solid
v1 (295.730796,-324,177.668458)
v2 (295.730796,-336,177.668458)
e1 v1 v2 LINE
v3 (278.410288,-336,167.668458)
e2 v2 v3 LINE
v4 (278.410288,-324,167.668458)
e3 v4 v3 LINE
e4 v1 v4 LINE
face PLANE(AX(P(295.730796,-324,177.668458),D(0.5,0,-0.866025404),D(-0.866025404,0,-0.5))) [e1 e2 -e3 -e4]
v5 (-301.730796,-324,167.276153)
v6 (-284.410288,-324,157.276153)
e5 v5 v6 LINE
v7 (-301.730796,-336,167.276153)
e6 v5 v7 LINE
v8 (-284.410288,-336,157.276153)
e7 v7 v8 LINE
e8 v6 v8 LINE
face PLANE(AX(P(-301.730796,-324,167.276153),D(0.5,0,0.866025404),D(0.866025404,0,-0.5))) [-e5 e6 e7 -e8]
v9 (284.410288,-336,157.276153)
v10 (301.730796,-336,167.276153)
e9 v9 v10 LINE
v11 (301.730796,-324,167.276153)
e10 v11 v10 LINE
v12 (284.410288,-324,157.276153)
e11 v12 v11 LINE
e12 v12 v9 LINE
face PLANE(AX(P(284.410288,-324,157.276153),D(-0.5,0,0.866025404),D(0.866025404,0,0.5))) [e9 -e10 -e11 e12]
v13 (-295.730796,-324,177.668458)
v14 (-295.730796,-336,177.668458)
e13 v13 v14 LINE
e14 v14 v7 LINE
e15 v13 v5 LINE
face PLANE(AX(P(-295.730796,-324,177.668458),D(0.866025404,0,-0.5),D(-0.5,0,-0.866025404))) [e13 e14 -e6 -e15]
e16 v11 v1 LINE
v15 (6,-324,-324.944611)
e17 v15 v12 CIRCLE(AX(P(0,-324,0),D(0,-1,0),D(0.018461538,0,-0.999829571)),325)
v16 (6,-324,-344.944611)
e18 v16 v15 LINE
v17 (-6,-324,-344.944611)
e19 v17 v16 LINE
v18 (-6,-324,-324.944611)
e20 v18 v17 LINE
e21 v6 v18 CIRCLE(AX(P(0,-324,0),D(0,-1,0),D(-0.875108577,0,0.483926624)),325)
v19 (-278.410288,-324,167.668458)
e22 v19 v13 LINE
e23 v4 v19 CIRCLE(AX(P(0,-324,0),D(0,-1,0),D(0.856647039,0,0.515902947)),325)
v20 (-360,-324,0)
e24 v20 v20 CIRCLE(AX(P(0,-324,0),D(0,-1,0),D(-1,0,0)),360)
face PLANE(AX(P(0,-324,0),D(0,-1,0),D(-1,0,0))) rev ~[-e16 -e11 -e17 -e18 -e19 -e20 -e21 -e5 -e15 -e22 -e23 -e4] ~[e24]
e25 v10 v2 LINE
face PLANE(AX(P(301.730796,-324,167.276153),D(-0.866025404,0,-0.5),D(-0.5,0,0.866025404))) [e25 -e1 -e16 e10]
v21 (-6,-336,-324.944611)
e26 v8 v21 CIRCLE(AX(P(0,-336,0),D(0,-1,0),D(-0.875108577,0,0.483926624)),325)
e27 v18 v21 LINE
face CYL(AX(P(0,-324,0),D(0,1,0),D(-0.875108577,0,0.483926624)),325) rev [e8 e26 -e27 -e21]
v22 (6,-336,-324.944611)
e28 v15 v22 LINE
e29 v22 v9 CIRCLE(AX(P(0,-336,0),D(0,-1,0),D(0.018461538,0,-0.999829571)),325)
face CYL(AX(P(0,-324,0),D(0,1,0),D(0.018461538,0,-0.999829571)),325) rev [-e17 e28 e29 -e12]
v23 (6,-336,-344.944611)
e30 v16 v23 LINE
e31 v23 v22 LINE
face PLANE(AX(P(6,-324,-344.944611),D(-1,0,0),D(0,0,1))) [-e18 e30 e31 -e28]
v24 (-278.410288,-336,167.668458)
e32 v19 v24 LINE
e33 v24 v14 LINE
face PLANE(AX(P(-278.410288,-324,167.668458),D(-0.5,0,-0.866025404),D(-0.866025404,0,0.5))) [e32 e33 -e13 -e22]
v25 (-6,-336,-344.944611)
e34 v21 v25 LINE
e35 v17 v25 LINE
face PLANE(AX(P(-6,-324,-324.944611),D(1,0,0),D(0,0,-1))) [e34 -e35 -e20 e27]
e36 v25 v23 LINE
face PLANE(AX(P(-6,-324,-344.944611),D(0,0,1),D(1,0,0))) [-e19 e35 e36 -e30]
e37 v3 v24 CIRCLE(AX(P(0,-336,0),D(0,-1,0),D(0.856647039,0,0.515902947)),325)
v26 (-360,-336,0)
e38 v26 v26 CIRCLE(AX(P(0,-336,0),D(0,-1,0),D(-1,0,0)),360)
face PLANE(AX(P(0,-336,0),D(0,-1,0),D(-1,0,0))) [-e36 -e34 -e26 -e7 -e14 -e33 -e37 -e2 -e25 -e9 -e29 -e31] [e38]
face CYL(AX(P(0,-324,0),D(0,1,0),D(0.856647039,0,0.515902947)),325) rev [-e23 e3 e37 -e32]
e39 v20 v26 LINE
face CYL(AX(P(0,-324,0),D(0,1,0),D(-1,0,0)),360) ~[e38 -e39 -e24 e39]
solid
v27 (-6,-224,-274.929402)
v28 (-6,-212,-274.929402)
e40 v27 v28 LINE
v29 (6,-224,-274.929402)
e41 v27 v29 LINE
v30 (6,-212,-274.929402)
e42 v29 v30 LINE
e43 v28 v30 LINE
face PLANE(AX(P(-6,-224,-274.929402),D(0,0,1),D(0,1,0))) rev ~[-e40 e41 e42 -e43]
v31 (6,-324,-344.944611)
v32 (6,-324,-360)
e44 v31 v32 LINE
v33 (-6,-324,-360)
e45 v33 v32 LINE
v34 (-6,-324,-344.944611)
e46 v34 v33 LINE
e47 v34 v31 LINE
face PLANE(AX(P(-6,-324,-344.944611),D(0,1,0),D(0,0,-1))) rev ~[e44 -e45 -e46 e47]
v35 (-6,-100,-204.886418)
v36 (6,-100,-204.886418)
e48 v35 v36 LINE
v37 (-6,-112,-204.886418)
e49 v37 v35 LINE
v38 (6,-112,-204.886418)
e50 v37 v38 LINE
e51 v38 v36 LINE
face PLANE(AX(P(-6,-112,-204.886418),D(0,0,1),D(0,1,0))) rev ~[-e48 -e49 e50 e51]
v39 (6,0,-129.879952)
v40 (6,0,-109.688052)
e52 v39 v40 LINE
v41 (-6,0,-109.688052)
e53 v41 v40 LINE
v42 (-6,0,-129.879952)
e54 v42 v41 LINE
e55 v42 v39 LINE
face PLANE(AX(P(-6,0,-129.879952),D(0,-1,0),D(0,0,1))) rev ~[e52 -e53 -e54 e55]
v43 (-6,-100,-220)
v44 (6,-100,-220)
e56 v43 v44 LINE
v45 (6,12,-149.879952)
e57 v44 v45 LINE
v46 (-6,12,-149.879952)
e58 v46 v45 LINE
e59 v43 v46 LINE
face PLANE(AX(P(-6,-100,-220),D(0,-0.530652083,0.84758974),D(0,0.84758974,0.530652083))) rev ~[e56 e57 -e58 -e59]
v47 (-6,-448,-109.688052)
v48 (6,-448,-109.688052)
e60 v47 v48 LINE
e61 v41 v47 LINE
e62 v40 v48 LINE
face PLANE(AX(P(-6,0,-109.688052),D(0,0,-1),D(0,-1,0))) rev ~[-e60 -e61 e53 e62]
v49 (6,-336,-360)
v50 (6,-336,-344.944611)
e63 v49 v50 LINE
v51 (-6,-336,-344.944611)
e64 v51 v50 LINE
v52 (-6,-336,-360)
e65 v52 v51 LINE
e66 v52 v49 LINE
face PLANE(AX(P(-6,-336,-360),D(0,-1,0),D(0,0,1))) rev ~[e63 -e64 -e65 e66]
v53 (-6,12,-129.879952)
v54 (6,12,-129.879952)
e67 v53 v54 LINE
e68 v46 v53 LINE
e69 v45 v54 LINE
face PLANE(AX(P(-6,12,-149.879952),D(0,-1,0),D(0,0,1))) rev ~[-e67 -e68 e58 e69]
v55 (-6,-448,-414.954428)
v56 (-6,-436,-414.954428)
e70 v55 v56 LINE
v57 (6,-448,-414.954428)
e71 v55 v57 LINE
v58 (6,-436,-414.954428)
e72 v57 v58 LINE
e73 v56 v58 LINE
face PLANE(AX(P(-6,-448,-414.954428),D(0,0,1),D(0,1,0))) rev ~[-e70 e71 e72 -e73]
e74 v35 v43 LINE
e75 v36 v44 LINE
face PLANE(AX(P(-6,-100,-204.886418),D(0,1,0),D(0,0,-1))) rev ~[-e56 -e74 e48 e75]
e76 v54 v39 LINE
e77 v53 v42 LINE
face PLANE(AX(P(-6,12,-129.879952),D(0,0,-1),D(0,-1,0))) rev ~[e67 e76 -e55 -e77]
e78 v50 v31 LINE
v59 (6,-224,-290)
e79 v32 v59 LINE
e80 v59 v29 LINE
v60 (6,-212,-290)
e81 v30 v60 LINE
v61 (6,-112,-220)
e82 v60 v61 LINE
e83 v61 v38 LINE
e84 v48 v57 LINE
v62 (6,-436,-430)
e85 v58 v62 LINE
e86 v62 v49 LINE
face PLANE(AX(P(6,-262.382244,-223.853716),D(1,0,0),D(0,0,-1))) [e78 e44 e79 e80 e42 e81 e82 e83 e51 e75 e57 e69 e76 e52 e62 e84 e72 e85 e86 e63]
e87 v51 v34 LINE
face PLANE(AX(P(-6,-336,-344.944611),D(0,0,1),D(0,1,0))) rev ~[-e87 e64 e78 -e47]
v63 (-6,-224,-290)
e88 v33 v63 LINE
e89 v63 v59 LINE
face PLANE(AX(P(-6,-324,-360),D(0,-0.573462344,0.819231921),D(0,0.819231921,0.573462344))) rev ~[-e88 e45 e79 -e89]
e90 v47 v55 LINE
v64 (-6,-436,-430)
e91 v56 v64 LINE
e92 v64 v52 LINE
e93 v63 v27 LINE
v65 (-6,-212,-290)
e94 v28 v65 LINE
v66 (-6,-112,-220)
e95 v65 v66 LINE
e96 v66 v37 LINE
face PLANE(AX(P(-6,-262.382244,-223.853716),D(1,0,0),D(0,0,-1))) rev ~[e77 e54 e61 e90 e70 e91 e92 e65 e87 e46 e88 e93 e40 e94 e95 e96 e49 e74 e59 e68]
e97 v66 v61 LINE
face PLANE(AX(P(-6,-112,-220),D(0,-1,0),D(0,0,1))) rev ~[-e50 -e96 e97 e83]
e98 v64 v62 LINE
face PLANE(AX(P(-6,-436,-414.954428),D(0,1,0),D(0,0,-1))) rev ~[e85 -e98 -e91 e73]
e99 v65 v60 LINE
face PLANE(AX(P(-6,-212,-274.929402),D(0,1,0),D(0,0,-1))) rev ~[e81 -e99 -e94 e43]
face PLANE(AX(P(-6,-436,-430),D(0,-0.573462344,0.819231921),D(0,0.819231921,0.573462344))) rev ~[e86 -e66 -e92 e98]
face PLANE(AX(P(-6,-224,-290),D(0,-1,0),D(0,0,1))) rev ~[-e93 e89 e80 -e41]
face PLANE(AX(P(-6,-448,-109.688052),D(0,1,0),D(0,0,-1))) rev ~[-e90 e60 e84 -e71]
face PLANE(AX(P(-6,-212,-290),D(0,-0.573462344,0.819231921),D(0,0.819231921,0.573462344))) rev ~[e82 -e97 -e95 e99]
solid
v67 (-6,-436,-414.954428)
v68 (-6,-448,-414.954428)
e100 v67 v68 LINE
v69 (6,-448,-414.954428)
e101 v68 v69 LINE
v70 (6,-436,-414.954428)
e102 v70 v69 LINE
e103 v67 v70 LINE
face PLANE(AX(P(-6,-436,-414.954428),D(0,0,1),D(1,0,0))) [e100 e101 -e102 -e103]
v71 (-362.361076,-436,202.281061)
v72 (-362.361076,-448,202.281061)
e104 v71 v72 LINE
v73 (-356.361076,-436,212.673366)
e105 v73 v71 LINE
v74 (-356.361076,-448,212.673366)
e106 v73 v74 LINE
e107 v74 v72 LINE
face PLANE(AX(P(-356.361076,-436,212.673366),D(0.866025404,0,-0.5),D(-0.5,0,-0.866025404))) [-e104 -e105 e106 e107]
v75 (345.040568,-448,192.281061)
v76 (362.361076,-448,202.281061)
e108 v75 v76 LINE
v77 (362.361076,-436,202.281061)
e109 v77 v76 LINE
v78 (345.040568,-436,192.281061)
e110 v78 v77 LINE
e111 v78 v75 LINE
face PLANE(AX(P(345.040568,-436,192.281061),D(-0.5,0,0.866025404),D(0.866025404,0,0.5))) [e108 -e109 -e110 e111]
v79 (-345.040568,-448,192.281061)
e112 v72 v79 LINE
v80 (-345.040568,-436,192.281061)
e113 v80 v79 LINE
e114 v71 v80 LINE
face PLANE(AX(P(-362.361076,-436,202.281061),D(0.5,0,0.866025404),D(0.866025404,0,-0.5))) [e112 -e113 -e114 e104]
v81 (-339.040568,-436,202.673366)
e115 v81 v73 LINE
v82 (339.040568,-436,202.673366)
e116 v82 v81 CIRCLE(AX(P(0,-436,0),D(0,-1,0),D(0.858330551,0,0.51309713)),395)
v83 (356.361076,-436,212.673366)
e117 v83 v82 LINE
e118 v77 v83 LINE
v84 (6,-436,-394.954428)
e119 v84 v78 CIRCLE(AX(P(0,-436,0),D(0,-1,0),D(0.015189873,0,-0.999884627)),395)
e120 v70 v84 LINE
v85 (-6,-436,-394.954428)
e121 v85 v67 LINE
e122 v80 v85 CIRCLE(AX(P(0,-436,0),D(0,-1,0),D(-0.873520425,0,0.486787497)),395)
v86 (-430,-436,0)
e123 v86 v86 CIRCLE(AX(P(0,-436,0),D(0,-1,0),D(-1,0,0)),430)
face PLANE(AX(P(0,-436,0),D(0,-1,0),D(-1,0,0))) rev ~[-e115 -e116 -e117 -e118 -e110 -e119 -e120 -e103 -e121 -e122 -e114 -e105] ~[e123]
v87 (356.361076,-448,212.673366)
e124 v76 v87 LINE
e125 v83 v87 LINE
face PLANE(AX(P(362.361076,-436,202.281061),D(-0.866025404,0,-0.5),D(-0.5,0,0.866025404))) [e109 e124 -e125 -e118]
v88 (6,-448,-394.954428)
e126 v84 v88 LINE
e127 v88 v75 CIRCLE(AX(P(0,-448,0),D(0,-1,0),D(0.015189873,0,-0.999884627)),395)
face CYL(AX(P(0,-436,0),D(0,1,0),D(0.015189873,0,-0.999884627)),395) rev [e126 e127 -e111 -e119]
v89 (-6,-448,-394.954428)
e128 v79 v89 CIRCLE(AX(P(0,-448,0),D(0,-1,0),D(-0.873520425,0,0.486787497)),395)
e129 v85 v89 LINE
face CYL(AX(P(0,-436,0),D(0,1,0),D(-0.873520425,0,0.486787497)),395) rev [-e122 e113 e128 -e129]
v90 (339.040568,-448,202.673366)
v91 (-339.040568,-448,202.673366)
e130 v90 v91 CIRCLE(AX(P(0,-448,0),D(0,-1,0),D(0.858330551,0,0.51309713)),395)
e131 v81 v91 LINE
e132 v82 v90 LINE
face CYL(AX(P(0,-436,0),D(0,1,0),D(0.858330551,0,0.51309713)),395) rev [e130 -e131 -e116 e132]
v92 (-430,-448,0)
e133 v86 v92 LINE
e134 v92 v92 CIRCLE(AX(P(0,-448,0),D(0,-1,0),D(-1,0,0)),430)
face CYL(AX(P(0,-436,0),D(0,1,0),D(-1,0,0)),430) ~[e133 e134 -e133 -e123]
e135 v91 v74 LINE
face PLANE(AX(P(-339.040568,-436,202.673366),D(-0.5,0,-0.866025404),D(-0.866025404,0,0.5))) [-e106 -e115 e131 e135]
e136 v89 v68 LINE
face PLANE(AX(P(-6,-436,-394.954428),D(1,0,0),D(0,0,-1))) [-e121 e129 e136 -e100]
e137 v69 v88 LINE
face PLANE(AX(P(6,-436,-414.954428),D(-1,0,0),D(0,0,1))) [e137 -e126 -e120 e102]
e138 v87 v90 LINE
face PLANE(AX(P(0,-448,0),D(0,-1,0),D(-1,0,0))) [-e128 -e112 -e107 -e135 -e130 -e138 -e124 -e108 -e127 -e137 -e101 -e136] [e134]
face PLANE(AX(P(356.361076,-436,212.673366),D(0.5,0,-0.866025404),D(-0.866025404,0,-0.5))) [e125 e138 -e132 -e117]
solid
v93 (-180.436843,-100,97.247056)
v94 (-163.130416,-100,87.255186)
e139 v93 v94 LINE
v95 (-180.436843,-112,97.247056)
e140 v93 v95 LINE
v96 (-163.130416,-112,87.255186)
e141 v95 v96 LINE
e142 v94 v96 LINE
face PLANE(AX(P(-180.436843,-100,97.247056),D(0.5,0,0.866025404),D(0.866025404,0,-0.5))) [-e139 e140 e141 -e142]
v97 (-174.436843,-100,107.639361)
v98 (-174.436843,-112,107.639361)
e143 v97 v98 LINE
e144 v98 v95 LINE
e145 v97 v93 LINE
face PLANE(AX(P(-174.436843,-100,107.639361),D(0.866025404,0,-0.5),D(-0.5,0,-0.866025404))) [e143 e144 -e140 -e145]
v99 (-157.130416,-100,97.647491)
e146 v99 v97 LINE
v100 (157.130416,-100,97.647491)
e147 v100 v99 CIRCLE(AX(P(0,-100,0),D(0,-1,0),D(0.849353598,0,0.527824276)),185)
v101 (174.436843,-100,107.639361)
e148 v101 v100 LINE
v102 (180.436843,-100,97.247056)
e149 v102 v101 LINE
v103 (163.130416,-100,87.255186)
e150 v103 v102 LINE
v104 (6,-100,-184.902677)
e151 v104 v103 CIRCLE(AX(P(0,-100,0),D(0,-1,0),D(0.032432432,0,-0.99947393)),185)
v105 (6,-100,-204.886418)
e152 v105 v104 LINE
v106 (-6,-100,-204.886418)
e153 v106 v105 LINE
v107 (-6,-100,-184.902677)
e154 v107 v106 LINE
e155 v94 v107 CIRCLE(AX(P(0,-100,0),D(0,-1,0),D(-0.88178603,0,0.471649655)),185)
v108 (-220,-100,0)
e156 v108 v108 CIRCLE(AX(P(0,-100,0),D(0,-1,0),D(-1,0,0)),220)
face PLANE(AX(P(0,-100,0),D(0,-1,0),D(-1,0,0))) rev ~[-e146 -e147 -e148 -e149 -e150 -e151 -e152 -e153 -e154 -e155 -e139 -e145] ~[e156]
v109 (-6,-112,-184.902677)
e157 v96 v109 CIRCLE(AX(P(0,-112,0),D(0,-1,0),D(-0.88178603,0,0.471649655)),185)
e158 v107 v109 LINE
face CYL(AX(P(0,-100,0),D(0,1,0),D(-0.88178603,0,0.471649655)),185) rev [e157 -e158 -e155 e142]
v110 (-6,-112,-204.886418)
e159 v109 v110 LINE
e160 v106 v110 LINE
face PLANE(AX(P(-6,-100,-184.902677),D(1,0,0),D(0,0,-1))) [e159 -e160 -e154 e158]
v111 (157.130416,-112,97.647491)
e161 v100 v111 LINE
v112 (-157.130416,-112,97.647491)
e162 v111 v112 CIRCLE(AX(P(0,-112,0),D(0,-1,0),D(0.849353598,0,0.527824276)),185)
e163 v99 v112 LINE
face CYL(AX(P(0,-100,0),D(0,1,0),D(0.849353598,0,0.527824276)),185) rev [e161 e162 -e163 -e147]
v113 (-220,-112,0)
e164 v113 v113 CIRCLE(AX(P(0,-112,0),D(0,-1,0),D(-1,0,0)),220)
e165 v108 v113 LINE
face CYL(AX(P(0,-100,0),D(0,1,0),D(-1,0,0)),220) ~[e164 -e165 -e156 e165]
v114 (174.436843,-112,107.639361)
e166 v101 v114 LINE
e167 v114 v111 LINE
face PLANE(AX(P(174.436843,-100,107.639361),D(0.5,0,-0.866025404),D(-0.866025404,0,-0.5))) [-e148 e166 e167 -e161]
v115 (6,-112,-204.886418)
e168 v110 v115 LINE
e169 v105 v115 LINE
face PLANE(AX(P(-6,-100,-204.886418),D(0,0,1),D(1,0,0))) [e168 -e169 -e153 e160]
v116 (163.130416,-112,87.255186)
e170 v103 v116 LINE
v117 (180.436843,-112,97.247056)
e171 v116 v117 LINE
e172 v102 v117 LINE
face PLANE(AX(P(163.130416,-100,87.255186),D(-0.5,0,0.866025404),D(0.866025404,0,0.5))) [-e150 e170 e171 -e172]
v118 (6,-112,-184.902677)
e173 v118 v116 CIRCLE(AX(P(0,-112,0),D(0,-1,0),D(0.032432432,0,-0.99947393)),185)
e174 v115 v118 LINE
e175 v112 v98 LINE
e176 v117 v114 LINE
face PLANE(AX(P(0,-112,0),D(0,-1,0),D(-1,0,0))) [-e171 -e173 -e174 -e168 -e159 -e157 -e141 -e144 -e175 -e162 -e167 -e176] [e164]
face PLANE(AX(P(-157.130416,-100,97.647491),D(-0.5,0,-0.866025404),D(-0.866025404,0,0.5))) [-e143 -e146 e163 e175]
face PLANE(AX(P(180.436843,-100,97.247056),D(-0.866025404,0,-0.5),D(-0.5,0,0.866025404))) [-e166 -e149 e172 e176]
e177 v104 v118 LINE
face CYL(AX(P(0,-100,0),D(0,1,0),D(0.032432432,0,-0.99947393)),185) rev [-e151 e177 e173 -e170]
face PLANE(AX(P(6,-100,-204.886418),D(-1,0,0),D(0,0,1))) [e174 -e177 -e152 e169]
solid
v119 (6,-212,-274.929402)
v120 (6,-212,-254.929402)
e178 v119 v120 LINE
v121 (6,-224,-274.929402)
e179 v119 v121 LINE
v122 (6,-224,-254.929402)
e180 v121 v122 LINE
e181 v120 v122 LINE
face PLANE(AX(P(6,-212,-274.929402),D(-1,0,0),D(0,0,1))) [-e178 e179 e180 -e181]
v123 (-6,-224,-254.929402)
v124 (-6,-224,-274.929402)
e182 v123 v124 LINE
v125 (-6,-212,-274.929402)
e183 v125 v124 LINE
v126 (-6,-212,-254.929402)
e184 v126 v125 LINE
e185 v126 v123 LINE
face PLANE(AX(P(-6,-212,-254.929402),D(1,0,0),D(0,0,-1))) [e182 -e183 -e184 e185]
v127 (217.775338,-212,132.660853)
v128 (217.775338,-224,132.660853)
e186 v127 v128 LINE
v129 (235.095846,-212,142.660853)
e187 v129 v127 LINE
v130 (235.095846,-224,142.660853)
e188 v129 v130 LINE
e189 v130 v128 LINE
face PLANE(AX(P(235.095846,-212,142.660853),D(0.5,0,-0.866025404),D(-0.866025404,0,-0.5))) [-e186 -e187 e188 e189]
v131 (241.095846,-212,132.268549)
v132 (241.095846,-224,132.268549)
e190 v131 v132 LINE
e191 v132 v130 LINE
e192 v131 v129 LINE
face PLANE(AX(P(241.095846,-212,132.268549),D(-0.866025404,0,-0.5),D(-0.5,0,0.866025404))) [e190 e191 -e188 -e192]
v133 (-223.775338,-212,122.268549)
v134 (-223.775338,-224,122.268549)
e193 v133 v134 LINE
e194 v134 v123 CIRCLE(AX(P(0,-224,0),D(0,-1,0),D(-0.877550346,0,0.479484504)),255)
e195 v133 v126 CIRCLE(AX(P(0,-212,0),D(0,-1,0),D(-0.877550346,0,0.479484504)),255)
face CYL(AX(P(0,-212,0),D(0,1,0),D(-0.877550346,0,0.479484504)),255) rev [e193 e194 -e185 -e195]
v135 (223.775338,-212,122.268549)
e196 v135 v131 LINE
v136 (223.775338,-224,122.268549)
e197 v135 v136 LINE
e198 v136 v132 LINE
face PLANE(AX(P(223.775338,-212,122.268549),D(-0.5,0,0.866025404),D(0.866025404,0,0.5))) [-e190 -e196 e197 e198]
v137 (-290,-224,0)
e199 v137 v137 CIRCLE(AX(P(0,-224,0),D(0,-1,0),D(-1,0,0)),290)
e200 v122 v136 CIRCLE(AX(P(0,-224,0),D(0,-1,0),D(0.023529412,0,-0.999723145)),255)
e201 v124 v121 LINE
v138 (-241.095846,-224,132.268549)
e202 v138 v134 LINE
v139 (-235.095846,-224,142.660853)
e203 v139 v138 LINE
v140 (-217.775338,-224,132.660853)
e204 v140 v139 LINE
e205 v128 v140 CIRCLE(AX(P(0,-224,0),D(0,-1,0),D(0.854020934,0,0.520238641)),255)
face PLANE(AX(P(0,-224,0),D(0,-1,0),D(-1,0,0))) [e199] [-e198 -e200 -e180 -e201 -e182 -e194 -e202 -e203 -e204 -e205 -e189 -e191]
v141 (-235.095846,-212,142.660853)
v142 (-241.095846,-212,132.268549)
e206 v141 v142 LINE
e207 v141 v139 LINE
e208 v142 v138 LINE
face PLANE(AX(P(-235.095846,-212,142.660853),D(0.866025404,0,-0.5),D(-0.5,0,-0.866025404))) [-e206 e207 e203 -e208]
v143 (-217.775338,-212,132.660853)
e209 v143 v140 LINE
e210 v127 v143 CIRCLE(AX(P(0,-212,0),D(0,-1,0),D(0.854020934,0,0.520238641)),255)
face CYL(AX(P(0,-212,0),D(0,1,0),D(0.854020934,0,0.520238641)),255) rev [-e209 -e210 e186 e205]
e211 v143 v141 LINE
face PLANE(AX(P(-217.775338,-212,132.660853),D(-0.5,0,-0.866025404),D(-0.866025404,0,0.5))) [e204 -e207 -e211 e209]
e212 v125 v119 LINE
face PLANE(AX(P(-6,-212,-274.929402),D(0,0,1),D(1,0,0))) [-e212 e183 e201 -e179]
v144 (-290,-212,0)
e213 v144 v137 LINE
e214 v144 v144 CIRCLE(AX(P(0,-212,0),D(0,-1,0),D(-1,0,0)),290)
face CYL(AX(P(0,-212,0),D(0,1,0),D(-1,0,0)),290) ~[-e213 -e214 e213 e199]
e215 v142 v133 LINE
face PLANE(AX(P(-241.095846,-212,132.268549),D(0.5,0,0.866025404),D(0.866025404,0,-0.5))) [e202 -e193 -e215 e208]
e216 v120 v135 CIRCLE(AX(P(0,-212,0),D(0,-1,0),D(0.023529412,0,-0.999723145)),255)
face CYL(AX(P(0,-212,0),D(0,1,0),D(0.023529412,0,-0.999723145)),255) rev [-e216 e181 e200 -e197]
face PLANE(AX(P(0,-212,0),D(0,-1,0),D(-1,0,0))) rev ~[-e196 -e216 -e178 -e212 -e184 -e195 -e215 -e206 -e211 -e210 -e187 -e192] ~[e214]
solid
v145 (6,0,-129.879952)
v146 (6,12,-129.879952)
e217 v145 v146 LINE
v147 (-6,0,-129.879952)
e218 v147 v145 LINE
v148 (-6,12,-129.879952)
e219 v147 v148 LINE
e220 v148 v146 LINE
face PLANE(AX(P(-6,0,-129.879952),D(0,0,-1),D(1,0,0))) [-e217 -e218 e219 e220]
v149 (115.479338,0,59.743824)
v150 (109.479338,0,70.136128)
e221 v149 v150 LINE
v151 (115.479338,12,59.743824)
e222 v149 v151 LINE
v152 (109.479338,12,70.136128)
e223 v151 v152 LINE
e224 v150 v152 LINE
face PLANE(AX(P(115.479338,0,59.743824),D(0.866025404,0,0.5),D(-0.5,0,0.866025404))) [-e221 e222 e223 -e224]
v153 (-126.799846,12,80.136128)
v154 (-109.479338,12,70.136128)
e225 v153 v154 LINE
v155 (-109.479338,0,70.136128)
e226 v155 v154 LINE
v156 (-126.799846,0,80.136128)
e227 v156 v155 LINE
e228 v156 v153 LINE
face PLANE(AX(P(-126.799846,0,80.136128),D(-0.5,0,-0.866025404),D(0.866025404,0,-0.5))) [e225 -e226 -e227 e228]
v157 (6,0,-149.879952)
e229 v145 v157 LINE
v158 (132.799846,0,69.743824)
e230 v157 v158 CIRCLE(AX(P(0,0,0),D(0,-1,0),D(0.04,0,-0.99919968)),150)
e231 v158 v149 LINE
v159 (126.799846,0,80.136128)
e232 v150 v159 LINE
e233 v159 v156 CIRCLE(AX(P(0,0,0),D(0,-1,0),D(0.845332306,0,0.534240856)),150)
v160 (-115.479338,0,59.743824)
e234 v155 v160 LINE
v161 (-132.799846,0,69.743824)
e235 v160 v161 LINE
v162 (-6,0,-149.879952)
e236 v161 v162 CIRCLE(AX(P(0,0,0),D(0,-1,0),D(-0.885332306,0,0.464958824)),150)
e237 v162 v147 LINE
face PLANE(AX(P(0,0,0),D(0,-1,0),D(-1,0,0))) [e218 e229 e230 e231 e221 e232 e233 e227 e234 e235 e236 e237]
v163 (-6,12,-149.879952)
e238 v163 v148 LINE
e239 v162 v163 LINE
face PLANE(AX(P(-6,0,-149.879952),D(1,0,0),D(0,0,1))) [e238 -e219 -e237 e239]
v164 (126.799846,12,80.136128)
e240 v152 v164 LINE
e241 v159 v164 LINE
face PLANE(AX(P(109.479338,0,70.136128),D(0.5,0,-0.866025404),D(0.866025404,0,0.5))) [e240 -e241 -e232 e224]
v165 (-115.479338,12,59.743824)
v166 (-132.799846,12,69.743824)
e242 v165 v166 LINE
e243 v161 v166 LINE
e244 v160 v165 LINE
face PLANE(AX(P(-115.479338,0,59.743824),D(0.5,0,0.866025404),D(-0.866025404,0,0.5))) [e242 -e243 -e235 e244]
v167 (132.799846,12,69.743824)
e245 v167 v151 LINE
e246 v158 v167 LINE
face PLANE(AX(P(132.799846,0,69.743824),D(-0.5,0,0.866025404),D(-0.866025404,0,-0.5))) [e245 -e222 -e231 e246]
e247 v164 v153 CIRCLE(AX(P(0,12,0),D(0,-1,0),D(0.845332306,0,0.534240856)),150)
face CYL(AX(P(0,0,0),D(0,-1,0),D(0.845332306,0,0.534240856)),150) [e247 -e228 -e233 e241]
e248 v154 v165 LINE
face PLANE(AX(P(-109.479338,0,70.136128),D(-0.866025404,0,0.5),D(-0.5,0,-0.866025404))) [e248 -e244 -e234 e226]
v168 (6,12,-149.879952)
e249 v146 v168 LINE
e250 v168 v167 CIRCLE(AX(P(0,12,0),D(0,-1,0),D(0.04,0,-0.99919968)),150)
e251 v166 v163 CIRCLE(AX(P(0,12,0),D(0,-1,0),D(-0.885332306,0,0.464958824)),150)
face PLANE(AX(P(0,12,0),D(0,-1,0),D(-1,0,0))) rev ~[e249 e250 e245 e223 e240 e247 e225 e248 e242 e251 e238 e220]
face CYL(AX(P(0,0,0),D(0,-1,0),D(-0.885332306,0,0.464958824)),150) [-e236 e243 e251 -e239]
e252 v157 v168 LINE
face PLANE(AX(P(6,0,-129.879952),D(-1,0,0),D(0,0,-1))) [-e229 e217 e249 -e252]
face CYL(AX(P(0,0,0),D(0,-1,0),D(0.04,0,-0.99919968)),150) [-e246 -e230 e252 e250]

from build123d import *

# Parameters (mm, degrees)
BOSS_EXTRUDE1_DEPTH = 12
SKETCH2_R           = 220
BOSS_EXTRUDE2_DEPTH = 12
SKETCH3_R           = 290
BOSS_EXTRUDE3_DEPTH = 12
SKETCH4_R           = 360
BOSS_EXTRUDE4_DEPTH = 12
SKETCH5_R           = 430
BOSS_EXTRUDE5_DEPTH = 12
BOSS_EXTRUDE6_DEPTH = 12


with BuildPart() as part:
    # Sketch1 → Boss-Extrude1 (new body)
    with BuildSketch(Plane(origin=(0, 0, 0), x_dir=(1, 0, 0), z_dir=(0, 1, 0))):
        with BuildLine():
            Line((109.479337841, -70.136128403), (126.799845917, -80.136128403))
            ThreePointArc((126.799845917, -80.136128403), (0, -150), (-126.799845917, -80.136128403))
            Line((-126.799845917, -80.136128403), (-109.479337841, -70.136128403))
            Line((-109.479337841, -70.136128403), (-115.479337841, -59.743823558))
            Line((-115.479337841, -59.743823558), (-132.799845917, -69.743823558))
            ThreePointArc((-132.799845917, -69.743823558), (-129.903810568, 75), (-6, 149.879951962))
            Line((-6, 149.879951962), (-6, 129.879951962))
            Line((-6, 129.879951962), (6, 129.879951962))
            Line((6, 129.879951962), (6, 149.879951962))
            ThreePointArc((6, 149.879951962), (129.903810568, 75), (132.799845917, -69.743823558))
            Line((132.799845917, -69.743823558), (115.479337841, -59.743823558))
            Line((115.479337841, -59.743823558), (109.479337841, -70.136128403))
        make_face()
    extrude(amount=BOSS_EXTRUDE1_DEPTH)


with BuildPart() as body_2:
    # Sketch2 → Boss-Extrude2 (new body)
    with BuildSketch(Plane(origin=(0, -100, 0), x_dir=(-1, 0, 0), z_dir=(0, -1, 0))):
        Circle(SKETCH2_R)
        with BuildLine():
            Line((180.436842735, -97.247056494), (163.130415599, -87.255186129))
            ThreePointArc((163.130415599, -87.255186129), (160.2146997, 92.5), (6, 184.902677103))
            Line((6, 184.902677103), (6, 204.886417834))
            Line((6, 204.886417834), (-6, 204.886417834))
            Line((-6, 204.886417834), (-6, 184.902677103))
            ThreePointArc((-6, 184.902677103), (-160.2146997, 92.5), (-163.130415599, -87.255186129))
            Line((-163.130415599, -87.255186129), (-180.436842735, -97.247056494))
            Line((-180.436842735, -97.247056494), (-174.436842735, -107.63936134))
            Line((-174.436842735, -107.63936134), (-157.130415599, -97.647490974))
            ThreePointArc((-157.130415599, -97.647490974), (0, -185), (157.130415599, -97.647490974))
            Line((157.130415599, -97.647490974), (174.436842735, -107.63936134))
            Line((174.436842735, -107.63936134), (180.436842735, -97.247056494))
        make_face(mode=Mode.SUBTRACT)
    extrude(amount=BOSS_EXTRUDE2_DEPTH)


with BuildPart() as body_3:
    # Sketch3 → Boss-Extrude3 (new body)
    with BuildSketch(Plane(origin=(0, -212, 0), x_dir=(-1, 0, 0), z_dir=(0, -1, 0))):
        Circle(SKETCH3_R)
        with BuildLine():
            Line((241.095846372, -132.268548573), (223.775338297, -122.268548573))
            ThreePointArc((223.775338297, -122.268548573), (220.836477965, 127.5), (6, 254.929401992))
            Line((6, 254.929401992), (6, 274.929401992))
            Line((6, 274.929401992), (-6, 274.929401992))
            Line((-6, 274.929401992), (-6, 254.929401992))
            ThreePointArc((-6, 254.929401992), (-220.836477965, 127.5), (-223.775338297, -122.268548573))
            Line((-223.775338297, -122.268548573), (-241.095846372, -132.268548573))
            Line((-241.095846372, -132.268548573), (-235.095846372, -142.660853419))
            Line((-235.095846372, -142.660853419), (-217.775338297, -132.660853419))
            ThreePointArc((-217.775338297, -132.660853419), (0, -255), (217.775338297, -132.660853419))
            Line((217.775338297, -132.660853419), (235.095846372, -142.660853419))
            Line((235.095846372, -142.660853419), (241.095846372, -132.268548573))
        make_face(mode=Mode.SUBTRACT)
    extrude(amount=BOSS_EXTRUDE3_DEPTH)


with BuildPart() as body_4:
    # Sketch4 → Boss-Extrude4 (new body)
    with BuildSketch(Plane(origin=(0, -324, 0), x_dir=(-1, 0, 0), z_dir=(0, -1, 0))):
        Circle(SKETCH4_R)
        with BuildLine():
            Line((301.730795734, -167.27615291), (284.410287658, -157.27615291))
            ThreePointArc((284.410287658, -157.27615291), (281.45825623, 162.5), (6, 324.944610665))
            Line((6, 324.944610665), (6, 344.944610665))
            Line((6, 344.944610665), (-6, 344.944610665))
            Line((-6, 344.944610665), (-6, 324.944610665))
            ThreePointArc((-6, 324.944610665), (-281.45825623, 162.5), (-284.410287658, -157.27615291))
            Line((-284.410287658, -157.27615291), (-301.730795734, -167.27615291))
            Line((-301.730795734, -167.27615291), (-295.730795734, -177.668457755))
            Line((-295.730795734, -177.668457755), (-278.410287658, -167.668457755))
            ThreePointArc((-278.410287658, -167.668457755), (0, -325), (278.410287658, -167.668457755))
            Line((278.410287658, -167.668457755), (295.730795734, -177.668457755))
            Line((295.730795734, -177.668457755), (301.730795734, -167.27615291))
        make_face(mode=Mode.SUBTRACT)
    extrude(amount=BOSS_EXTRUDE4_DEPTH)


with BuildPart() as body_5:
    # Sketch5 → Boss-Extrude5 (new body)
    with BuildSketch(Plane(origin=(0, -436, 0), x_dir=(-1, 0, 0), z_dir=(0, -1, 0))):
        Circle(SKETCH5_R)
        with BuildLine():
            Line((362.361075845, -202.281061453), (345.040567769, -192.281061453))
            ThreePointArc((345.040567769, -192.281061453), (342.080034495, 197.5), (6, 394.954427751))
            Line((6, 394.954427751), (6, 414.954427751))
            Line((6, 414.954427751), (-6, 414.954427751))
            Line((-6, 414.954427751), (-6, 394.954427751))
            ThreePointArc((-6, 394.954427751), (-342.080034495, 197.5), (-345.040567769, -192.281061453))
            Line((-345.040567769, -192.281061453), (-362.361075845, -202.281061453))
            Line((-362.361075845, -202.281061453), (-356.361075845, -212.673366298))
            Line((-356.361075845, -212.673366298), (-339.040567769, -202.673366298))
            ThreePointArc((-339.040567769, -202.673366298), (0, -395), (339.040567769, -202.673366298))
            Line((339.040567769, -202.673366298), (356.361075845, -212.673366298))
            Line((356.361075845, -212.673366298), (362.361075845, -202.281061453))
        make_face(mode=Mode.SUBTRACT)
    extrude(amount=BOSS_EXTRUDE5_DEPTH)


with BuildPart() as body_6:
    # Sketch7 → Boss-Extrude6 (new body)
    with BuildSketch(Plane(origin=(-6, 0, 0), x_dir=(0, 0, -1), z_dir=(1, 0, 0))):
        Polygon((109.688052229, -448), (414.954427751, -448), (414.954427751, -436), (430, -436), (360, -336), (344.944610665, -336), (344.944610665, -324), (360, -324), (290, -224), (274.929401992, -224), (274.929401992, -212), (290, -212), (220, -112), (204.886417834, -112), (204.886417834, -100), (220, -100), (149.879951962, 12), (129.879951962, 12), (129.879951962, 0), (109.688052229, 0), align=None)
    extrude(amount=BOSS_EXTRUDE6_DEPTH)


solid = Compound([part.part, body_2.part, body_3.part, body_4.part, body_5.part, body_6.part])
